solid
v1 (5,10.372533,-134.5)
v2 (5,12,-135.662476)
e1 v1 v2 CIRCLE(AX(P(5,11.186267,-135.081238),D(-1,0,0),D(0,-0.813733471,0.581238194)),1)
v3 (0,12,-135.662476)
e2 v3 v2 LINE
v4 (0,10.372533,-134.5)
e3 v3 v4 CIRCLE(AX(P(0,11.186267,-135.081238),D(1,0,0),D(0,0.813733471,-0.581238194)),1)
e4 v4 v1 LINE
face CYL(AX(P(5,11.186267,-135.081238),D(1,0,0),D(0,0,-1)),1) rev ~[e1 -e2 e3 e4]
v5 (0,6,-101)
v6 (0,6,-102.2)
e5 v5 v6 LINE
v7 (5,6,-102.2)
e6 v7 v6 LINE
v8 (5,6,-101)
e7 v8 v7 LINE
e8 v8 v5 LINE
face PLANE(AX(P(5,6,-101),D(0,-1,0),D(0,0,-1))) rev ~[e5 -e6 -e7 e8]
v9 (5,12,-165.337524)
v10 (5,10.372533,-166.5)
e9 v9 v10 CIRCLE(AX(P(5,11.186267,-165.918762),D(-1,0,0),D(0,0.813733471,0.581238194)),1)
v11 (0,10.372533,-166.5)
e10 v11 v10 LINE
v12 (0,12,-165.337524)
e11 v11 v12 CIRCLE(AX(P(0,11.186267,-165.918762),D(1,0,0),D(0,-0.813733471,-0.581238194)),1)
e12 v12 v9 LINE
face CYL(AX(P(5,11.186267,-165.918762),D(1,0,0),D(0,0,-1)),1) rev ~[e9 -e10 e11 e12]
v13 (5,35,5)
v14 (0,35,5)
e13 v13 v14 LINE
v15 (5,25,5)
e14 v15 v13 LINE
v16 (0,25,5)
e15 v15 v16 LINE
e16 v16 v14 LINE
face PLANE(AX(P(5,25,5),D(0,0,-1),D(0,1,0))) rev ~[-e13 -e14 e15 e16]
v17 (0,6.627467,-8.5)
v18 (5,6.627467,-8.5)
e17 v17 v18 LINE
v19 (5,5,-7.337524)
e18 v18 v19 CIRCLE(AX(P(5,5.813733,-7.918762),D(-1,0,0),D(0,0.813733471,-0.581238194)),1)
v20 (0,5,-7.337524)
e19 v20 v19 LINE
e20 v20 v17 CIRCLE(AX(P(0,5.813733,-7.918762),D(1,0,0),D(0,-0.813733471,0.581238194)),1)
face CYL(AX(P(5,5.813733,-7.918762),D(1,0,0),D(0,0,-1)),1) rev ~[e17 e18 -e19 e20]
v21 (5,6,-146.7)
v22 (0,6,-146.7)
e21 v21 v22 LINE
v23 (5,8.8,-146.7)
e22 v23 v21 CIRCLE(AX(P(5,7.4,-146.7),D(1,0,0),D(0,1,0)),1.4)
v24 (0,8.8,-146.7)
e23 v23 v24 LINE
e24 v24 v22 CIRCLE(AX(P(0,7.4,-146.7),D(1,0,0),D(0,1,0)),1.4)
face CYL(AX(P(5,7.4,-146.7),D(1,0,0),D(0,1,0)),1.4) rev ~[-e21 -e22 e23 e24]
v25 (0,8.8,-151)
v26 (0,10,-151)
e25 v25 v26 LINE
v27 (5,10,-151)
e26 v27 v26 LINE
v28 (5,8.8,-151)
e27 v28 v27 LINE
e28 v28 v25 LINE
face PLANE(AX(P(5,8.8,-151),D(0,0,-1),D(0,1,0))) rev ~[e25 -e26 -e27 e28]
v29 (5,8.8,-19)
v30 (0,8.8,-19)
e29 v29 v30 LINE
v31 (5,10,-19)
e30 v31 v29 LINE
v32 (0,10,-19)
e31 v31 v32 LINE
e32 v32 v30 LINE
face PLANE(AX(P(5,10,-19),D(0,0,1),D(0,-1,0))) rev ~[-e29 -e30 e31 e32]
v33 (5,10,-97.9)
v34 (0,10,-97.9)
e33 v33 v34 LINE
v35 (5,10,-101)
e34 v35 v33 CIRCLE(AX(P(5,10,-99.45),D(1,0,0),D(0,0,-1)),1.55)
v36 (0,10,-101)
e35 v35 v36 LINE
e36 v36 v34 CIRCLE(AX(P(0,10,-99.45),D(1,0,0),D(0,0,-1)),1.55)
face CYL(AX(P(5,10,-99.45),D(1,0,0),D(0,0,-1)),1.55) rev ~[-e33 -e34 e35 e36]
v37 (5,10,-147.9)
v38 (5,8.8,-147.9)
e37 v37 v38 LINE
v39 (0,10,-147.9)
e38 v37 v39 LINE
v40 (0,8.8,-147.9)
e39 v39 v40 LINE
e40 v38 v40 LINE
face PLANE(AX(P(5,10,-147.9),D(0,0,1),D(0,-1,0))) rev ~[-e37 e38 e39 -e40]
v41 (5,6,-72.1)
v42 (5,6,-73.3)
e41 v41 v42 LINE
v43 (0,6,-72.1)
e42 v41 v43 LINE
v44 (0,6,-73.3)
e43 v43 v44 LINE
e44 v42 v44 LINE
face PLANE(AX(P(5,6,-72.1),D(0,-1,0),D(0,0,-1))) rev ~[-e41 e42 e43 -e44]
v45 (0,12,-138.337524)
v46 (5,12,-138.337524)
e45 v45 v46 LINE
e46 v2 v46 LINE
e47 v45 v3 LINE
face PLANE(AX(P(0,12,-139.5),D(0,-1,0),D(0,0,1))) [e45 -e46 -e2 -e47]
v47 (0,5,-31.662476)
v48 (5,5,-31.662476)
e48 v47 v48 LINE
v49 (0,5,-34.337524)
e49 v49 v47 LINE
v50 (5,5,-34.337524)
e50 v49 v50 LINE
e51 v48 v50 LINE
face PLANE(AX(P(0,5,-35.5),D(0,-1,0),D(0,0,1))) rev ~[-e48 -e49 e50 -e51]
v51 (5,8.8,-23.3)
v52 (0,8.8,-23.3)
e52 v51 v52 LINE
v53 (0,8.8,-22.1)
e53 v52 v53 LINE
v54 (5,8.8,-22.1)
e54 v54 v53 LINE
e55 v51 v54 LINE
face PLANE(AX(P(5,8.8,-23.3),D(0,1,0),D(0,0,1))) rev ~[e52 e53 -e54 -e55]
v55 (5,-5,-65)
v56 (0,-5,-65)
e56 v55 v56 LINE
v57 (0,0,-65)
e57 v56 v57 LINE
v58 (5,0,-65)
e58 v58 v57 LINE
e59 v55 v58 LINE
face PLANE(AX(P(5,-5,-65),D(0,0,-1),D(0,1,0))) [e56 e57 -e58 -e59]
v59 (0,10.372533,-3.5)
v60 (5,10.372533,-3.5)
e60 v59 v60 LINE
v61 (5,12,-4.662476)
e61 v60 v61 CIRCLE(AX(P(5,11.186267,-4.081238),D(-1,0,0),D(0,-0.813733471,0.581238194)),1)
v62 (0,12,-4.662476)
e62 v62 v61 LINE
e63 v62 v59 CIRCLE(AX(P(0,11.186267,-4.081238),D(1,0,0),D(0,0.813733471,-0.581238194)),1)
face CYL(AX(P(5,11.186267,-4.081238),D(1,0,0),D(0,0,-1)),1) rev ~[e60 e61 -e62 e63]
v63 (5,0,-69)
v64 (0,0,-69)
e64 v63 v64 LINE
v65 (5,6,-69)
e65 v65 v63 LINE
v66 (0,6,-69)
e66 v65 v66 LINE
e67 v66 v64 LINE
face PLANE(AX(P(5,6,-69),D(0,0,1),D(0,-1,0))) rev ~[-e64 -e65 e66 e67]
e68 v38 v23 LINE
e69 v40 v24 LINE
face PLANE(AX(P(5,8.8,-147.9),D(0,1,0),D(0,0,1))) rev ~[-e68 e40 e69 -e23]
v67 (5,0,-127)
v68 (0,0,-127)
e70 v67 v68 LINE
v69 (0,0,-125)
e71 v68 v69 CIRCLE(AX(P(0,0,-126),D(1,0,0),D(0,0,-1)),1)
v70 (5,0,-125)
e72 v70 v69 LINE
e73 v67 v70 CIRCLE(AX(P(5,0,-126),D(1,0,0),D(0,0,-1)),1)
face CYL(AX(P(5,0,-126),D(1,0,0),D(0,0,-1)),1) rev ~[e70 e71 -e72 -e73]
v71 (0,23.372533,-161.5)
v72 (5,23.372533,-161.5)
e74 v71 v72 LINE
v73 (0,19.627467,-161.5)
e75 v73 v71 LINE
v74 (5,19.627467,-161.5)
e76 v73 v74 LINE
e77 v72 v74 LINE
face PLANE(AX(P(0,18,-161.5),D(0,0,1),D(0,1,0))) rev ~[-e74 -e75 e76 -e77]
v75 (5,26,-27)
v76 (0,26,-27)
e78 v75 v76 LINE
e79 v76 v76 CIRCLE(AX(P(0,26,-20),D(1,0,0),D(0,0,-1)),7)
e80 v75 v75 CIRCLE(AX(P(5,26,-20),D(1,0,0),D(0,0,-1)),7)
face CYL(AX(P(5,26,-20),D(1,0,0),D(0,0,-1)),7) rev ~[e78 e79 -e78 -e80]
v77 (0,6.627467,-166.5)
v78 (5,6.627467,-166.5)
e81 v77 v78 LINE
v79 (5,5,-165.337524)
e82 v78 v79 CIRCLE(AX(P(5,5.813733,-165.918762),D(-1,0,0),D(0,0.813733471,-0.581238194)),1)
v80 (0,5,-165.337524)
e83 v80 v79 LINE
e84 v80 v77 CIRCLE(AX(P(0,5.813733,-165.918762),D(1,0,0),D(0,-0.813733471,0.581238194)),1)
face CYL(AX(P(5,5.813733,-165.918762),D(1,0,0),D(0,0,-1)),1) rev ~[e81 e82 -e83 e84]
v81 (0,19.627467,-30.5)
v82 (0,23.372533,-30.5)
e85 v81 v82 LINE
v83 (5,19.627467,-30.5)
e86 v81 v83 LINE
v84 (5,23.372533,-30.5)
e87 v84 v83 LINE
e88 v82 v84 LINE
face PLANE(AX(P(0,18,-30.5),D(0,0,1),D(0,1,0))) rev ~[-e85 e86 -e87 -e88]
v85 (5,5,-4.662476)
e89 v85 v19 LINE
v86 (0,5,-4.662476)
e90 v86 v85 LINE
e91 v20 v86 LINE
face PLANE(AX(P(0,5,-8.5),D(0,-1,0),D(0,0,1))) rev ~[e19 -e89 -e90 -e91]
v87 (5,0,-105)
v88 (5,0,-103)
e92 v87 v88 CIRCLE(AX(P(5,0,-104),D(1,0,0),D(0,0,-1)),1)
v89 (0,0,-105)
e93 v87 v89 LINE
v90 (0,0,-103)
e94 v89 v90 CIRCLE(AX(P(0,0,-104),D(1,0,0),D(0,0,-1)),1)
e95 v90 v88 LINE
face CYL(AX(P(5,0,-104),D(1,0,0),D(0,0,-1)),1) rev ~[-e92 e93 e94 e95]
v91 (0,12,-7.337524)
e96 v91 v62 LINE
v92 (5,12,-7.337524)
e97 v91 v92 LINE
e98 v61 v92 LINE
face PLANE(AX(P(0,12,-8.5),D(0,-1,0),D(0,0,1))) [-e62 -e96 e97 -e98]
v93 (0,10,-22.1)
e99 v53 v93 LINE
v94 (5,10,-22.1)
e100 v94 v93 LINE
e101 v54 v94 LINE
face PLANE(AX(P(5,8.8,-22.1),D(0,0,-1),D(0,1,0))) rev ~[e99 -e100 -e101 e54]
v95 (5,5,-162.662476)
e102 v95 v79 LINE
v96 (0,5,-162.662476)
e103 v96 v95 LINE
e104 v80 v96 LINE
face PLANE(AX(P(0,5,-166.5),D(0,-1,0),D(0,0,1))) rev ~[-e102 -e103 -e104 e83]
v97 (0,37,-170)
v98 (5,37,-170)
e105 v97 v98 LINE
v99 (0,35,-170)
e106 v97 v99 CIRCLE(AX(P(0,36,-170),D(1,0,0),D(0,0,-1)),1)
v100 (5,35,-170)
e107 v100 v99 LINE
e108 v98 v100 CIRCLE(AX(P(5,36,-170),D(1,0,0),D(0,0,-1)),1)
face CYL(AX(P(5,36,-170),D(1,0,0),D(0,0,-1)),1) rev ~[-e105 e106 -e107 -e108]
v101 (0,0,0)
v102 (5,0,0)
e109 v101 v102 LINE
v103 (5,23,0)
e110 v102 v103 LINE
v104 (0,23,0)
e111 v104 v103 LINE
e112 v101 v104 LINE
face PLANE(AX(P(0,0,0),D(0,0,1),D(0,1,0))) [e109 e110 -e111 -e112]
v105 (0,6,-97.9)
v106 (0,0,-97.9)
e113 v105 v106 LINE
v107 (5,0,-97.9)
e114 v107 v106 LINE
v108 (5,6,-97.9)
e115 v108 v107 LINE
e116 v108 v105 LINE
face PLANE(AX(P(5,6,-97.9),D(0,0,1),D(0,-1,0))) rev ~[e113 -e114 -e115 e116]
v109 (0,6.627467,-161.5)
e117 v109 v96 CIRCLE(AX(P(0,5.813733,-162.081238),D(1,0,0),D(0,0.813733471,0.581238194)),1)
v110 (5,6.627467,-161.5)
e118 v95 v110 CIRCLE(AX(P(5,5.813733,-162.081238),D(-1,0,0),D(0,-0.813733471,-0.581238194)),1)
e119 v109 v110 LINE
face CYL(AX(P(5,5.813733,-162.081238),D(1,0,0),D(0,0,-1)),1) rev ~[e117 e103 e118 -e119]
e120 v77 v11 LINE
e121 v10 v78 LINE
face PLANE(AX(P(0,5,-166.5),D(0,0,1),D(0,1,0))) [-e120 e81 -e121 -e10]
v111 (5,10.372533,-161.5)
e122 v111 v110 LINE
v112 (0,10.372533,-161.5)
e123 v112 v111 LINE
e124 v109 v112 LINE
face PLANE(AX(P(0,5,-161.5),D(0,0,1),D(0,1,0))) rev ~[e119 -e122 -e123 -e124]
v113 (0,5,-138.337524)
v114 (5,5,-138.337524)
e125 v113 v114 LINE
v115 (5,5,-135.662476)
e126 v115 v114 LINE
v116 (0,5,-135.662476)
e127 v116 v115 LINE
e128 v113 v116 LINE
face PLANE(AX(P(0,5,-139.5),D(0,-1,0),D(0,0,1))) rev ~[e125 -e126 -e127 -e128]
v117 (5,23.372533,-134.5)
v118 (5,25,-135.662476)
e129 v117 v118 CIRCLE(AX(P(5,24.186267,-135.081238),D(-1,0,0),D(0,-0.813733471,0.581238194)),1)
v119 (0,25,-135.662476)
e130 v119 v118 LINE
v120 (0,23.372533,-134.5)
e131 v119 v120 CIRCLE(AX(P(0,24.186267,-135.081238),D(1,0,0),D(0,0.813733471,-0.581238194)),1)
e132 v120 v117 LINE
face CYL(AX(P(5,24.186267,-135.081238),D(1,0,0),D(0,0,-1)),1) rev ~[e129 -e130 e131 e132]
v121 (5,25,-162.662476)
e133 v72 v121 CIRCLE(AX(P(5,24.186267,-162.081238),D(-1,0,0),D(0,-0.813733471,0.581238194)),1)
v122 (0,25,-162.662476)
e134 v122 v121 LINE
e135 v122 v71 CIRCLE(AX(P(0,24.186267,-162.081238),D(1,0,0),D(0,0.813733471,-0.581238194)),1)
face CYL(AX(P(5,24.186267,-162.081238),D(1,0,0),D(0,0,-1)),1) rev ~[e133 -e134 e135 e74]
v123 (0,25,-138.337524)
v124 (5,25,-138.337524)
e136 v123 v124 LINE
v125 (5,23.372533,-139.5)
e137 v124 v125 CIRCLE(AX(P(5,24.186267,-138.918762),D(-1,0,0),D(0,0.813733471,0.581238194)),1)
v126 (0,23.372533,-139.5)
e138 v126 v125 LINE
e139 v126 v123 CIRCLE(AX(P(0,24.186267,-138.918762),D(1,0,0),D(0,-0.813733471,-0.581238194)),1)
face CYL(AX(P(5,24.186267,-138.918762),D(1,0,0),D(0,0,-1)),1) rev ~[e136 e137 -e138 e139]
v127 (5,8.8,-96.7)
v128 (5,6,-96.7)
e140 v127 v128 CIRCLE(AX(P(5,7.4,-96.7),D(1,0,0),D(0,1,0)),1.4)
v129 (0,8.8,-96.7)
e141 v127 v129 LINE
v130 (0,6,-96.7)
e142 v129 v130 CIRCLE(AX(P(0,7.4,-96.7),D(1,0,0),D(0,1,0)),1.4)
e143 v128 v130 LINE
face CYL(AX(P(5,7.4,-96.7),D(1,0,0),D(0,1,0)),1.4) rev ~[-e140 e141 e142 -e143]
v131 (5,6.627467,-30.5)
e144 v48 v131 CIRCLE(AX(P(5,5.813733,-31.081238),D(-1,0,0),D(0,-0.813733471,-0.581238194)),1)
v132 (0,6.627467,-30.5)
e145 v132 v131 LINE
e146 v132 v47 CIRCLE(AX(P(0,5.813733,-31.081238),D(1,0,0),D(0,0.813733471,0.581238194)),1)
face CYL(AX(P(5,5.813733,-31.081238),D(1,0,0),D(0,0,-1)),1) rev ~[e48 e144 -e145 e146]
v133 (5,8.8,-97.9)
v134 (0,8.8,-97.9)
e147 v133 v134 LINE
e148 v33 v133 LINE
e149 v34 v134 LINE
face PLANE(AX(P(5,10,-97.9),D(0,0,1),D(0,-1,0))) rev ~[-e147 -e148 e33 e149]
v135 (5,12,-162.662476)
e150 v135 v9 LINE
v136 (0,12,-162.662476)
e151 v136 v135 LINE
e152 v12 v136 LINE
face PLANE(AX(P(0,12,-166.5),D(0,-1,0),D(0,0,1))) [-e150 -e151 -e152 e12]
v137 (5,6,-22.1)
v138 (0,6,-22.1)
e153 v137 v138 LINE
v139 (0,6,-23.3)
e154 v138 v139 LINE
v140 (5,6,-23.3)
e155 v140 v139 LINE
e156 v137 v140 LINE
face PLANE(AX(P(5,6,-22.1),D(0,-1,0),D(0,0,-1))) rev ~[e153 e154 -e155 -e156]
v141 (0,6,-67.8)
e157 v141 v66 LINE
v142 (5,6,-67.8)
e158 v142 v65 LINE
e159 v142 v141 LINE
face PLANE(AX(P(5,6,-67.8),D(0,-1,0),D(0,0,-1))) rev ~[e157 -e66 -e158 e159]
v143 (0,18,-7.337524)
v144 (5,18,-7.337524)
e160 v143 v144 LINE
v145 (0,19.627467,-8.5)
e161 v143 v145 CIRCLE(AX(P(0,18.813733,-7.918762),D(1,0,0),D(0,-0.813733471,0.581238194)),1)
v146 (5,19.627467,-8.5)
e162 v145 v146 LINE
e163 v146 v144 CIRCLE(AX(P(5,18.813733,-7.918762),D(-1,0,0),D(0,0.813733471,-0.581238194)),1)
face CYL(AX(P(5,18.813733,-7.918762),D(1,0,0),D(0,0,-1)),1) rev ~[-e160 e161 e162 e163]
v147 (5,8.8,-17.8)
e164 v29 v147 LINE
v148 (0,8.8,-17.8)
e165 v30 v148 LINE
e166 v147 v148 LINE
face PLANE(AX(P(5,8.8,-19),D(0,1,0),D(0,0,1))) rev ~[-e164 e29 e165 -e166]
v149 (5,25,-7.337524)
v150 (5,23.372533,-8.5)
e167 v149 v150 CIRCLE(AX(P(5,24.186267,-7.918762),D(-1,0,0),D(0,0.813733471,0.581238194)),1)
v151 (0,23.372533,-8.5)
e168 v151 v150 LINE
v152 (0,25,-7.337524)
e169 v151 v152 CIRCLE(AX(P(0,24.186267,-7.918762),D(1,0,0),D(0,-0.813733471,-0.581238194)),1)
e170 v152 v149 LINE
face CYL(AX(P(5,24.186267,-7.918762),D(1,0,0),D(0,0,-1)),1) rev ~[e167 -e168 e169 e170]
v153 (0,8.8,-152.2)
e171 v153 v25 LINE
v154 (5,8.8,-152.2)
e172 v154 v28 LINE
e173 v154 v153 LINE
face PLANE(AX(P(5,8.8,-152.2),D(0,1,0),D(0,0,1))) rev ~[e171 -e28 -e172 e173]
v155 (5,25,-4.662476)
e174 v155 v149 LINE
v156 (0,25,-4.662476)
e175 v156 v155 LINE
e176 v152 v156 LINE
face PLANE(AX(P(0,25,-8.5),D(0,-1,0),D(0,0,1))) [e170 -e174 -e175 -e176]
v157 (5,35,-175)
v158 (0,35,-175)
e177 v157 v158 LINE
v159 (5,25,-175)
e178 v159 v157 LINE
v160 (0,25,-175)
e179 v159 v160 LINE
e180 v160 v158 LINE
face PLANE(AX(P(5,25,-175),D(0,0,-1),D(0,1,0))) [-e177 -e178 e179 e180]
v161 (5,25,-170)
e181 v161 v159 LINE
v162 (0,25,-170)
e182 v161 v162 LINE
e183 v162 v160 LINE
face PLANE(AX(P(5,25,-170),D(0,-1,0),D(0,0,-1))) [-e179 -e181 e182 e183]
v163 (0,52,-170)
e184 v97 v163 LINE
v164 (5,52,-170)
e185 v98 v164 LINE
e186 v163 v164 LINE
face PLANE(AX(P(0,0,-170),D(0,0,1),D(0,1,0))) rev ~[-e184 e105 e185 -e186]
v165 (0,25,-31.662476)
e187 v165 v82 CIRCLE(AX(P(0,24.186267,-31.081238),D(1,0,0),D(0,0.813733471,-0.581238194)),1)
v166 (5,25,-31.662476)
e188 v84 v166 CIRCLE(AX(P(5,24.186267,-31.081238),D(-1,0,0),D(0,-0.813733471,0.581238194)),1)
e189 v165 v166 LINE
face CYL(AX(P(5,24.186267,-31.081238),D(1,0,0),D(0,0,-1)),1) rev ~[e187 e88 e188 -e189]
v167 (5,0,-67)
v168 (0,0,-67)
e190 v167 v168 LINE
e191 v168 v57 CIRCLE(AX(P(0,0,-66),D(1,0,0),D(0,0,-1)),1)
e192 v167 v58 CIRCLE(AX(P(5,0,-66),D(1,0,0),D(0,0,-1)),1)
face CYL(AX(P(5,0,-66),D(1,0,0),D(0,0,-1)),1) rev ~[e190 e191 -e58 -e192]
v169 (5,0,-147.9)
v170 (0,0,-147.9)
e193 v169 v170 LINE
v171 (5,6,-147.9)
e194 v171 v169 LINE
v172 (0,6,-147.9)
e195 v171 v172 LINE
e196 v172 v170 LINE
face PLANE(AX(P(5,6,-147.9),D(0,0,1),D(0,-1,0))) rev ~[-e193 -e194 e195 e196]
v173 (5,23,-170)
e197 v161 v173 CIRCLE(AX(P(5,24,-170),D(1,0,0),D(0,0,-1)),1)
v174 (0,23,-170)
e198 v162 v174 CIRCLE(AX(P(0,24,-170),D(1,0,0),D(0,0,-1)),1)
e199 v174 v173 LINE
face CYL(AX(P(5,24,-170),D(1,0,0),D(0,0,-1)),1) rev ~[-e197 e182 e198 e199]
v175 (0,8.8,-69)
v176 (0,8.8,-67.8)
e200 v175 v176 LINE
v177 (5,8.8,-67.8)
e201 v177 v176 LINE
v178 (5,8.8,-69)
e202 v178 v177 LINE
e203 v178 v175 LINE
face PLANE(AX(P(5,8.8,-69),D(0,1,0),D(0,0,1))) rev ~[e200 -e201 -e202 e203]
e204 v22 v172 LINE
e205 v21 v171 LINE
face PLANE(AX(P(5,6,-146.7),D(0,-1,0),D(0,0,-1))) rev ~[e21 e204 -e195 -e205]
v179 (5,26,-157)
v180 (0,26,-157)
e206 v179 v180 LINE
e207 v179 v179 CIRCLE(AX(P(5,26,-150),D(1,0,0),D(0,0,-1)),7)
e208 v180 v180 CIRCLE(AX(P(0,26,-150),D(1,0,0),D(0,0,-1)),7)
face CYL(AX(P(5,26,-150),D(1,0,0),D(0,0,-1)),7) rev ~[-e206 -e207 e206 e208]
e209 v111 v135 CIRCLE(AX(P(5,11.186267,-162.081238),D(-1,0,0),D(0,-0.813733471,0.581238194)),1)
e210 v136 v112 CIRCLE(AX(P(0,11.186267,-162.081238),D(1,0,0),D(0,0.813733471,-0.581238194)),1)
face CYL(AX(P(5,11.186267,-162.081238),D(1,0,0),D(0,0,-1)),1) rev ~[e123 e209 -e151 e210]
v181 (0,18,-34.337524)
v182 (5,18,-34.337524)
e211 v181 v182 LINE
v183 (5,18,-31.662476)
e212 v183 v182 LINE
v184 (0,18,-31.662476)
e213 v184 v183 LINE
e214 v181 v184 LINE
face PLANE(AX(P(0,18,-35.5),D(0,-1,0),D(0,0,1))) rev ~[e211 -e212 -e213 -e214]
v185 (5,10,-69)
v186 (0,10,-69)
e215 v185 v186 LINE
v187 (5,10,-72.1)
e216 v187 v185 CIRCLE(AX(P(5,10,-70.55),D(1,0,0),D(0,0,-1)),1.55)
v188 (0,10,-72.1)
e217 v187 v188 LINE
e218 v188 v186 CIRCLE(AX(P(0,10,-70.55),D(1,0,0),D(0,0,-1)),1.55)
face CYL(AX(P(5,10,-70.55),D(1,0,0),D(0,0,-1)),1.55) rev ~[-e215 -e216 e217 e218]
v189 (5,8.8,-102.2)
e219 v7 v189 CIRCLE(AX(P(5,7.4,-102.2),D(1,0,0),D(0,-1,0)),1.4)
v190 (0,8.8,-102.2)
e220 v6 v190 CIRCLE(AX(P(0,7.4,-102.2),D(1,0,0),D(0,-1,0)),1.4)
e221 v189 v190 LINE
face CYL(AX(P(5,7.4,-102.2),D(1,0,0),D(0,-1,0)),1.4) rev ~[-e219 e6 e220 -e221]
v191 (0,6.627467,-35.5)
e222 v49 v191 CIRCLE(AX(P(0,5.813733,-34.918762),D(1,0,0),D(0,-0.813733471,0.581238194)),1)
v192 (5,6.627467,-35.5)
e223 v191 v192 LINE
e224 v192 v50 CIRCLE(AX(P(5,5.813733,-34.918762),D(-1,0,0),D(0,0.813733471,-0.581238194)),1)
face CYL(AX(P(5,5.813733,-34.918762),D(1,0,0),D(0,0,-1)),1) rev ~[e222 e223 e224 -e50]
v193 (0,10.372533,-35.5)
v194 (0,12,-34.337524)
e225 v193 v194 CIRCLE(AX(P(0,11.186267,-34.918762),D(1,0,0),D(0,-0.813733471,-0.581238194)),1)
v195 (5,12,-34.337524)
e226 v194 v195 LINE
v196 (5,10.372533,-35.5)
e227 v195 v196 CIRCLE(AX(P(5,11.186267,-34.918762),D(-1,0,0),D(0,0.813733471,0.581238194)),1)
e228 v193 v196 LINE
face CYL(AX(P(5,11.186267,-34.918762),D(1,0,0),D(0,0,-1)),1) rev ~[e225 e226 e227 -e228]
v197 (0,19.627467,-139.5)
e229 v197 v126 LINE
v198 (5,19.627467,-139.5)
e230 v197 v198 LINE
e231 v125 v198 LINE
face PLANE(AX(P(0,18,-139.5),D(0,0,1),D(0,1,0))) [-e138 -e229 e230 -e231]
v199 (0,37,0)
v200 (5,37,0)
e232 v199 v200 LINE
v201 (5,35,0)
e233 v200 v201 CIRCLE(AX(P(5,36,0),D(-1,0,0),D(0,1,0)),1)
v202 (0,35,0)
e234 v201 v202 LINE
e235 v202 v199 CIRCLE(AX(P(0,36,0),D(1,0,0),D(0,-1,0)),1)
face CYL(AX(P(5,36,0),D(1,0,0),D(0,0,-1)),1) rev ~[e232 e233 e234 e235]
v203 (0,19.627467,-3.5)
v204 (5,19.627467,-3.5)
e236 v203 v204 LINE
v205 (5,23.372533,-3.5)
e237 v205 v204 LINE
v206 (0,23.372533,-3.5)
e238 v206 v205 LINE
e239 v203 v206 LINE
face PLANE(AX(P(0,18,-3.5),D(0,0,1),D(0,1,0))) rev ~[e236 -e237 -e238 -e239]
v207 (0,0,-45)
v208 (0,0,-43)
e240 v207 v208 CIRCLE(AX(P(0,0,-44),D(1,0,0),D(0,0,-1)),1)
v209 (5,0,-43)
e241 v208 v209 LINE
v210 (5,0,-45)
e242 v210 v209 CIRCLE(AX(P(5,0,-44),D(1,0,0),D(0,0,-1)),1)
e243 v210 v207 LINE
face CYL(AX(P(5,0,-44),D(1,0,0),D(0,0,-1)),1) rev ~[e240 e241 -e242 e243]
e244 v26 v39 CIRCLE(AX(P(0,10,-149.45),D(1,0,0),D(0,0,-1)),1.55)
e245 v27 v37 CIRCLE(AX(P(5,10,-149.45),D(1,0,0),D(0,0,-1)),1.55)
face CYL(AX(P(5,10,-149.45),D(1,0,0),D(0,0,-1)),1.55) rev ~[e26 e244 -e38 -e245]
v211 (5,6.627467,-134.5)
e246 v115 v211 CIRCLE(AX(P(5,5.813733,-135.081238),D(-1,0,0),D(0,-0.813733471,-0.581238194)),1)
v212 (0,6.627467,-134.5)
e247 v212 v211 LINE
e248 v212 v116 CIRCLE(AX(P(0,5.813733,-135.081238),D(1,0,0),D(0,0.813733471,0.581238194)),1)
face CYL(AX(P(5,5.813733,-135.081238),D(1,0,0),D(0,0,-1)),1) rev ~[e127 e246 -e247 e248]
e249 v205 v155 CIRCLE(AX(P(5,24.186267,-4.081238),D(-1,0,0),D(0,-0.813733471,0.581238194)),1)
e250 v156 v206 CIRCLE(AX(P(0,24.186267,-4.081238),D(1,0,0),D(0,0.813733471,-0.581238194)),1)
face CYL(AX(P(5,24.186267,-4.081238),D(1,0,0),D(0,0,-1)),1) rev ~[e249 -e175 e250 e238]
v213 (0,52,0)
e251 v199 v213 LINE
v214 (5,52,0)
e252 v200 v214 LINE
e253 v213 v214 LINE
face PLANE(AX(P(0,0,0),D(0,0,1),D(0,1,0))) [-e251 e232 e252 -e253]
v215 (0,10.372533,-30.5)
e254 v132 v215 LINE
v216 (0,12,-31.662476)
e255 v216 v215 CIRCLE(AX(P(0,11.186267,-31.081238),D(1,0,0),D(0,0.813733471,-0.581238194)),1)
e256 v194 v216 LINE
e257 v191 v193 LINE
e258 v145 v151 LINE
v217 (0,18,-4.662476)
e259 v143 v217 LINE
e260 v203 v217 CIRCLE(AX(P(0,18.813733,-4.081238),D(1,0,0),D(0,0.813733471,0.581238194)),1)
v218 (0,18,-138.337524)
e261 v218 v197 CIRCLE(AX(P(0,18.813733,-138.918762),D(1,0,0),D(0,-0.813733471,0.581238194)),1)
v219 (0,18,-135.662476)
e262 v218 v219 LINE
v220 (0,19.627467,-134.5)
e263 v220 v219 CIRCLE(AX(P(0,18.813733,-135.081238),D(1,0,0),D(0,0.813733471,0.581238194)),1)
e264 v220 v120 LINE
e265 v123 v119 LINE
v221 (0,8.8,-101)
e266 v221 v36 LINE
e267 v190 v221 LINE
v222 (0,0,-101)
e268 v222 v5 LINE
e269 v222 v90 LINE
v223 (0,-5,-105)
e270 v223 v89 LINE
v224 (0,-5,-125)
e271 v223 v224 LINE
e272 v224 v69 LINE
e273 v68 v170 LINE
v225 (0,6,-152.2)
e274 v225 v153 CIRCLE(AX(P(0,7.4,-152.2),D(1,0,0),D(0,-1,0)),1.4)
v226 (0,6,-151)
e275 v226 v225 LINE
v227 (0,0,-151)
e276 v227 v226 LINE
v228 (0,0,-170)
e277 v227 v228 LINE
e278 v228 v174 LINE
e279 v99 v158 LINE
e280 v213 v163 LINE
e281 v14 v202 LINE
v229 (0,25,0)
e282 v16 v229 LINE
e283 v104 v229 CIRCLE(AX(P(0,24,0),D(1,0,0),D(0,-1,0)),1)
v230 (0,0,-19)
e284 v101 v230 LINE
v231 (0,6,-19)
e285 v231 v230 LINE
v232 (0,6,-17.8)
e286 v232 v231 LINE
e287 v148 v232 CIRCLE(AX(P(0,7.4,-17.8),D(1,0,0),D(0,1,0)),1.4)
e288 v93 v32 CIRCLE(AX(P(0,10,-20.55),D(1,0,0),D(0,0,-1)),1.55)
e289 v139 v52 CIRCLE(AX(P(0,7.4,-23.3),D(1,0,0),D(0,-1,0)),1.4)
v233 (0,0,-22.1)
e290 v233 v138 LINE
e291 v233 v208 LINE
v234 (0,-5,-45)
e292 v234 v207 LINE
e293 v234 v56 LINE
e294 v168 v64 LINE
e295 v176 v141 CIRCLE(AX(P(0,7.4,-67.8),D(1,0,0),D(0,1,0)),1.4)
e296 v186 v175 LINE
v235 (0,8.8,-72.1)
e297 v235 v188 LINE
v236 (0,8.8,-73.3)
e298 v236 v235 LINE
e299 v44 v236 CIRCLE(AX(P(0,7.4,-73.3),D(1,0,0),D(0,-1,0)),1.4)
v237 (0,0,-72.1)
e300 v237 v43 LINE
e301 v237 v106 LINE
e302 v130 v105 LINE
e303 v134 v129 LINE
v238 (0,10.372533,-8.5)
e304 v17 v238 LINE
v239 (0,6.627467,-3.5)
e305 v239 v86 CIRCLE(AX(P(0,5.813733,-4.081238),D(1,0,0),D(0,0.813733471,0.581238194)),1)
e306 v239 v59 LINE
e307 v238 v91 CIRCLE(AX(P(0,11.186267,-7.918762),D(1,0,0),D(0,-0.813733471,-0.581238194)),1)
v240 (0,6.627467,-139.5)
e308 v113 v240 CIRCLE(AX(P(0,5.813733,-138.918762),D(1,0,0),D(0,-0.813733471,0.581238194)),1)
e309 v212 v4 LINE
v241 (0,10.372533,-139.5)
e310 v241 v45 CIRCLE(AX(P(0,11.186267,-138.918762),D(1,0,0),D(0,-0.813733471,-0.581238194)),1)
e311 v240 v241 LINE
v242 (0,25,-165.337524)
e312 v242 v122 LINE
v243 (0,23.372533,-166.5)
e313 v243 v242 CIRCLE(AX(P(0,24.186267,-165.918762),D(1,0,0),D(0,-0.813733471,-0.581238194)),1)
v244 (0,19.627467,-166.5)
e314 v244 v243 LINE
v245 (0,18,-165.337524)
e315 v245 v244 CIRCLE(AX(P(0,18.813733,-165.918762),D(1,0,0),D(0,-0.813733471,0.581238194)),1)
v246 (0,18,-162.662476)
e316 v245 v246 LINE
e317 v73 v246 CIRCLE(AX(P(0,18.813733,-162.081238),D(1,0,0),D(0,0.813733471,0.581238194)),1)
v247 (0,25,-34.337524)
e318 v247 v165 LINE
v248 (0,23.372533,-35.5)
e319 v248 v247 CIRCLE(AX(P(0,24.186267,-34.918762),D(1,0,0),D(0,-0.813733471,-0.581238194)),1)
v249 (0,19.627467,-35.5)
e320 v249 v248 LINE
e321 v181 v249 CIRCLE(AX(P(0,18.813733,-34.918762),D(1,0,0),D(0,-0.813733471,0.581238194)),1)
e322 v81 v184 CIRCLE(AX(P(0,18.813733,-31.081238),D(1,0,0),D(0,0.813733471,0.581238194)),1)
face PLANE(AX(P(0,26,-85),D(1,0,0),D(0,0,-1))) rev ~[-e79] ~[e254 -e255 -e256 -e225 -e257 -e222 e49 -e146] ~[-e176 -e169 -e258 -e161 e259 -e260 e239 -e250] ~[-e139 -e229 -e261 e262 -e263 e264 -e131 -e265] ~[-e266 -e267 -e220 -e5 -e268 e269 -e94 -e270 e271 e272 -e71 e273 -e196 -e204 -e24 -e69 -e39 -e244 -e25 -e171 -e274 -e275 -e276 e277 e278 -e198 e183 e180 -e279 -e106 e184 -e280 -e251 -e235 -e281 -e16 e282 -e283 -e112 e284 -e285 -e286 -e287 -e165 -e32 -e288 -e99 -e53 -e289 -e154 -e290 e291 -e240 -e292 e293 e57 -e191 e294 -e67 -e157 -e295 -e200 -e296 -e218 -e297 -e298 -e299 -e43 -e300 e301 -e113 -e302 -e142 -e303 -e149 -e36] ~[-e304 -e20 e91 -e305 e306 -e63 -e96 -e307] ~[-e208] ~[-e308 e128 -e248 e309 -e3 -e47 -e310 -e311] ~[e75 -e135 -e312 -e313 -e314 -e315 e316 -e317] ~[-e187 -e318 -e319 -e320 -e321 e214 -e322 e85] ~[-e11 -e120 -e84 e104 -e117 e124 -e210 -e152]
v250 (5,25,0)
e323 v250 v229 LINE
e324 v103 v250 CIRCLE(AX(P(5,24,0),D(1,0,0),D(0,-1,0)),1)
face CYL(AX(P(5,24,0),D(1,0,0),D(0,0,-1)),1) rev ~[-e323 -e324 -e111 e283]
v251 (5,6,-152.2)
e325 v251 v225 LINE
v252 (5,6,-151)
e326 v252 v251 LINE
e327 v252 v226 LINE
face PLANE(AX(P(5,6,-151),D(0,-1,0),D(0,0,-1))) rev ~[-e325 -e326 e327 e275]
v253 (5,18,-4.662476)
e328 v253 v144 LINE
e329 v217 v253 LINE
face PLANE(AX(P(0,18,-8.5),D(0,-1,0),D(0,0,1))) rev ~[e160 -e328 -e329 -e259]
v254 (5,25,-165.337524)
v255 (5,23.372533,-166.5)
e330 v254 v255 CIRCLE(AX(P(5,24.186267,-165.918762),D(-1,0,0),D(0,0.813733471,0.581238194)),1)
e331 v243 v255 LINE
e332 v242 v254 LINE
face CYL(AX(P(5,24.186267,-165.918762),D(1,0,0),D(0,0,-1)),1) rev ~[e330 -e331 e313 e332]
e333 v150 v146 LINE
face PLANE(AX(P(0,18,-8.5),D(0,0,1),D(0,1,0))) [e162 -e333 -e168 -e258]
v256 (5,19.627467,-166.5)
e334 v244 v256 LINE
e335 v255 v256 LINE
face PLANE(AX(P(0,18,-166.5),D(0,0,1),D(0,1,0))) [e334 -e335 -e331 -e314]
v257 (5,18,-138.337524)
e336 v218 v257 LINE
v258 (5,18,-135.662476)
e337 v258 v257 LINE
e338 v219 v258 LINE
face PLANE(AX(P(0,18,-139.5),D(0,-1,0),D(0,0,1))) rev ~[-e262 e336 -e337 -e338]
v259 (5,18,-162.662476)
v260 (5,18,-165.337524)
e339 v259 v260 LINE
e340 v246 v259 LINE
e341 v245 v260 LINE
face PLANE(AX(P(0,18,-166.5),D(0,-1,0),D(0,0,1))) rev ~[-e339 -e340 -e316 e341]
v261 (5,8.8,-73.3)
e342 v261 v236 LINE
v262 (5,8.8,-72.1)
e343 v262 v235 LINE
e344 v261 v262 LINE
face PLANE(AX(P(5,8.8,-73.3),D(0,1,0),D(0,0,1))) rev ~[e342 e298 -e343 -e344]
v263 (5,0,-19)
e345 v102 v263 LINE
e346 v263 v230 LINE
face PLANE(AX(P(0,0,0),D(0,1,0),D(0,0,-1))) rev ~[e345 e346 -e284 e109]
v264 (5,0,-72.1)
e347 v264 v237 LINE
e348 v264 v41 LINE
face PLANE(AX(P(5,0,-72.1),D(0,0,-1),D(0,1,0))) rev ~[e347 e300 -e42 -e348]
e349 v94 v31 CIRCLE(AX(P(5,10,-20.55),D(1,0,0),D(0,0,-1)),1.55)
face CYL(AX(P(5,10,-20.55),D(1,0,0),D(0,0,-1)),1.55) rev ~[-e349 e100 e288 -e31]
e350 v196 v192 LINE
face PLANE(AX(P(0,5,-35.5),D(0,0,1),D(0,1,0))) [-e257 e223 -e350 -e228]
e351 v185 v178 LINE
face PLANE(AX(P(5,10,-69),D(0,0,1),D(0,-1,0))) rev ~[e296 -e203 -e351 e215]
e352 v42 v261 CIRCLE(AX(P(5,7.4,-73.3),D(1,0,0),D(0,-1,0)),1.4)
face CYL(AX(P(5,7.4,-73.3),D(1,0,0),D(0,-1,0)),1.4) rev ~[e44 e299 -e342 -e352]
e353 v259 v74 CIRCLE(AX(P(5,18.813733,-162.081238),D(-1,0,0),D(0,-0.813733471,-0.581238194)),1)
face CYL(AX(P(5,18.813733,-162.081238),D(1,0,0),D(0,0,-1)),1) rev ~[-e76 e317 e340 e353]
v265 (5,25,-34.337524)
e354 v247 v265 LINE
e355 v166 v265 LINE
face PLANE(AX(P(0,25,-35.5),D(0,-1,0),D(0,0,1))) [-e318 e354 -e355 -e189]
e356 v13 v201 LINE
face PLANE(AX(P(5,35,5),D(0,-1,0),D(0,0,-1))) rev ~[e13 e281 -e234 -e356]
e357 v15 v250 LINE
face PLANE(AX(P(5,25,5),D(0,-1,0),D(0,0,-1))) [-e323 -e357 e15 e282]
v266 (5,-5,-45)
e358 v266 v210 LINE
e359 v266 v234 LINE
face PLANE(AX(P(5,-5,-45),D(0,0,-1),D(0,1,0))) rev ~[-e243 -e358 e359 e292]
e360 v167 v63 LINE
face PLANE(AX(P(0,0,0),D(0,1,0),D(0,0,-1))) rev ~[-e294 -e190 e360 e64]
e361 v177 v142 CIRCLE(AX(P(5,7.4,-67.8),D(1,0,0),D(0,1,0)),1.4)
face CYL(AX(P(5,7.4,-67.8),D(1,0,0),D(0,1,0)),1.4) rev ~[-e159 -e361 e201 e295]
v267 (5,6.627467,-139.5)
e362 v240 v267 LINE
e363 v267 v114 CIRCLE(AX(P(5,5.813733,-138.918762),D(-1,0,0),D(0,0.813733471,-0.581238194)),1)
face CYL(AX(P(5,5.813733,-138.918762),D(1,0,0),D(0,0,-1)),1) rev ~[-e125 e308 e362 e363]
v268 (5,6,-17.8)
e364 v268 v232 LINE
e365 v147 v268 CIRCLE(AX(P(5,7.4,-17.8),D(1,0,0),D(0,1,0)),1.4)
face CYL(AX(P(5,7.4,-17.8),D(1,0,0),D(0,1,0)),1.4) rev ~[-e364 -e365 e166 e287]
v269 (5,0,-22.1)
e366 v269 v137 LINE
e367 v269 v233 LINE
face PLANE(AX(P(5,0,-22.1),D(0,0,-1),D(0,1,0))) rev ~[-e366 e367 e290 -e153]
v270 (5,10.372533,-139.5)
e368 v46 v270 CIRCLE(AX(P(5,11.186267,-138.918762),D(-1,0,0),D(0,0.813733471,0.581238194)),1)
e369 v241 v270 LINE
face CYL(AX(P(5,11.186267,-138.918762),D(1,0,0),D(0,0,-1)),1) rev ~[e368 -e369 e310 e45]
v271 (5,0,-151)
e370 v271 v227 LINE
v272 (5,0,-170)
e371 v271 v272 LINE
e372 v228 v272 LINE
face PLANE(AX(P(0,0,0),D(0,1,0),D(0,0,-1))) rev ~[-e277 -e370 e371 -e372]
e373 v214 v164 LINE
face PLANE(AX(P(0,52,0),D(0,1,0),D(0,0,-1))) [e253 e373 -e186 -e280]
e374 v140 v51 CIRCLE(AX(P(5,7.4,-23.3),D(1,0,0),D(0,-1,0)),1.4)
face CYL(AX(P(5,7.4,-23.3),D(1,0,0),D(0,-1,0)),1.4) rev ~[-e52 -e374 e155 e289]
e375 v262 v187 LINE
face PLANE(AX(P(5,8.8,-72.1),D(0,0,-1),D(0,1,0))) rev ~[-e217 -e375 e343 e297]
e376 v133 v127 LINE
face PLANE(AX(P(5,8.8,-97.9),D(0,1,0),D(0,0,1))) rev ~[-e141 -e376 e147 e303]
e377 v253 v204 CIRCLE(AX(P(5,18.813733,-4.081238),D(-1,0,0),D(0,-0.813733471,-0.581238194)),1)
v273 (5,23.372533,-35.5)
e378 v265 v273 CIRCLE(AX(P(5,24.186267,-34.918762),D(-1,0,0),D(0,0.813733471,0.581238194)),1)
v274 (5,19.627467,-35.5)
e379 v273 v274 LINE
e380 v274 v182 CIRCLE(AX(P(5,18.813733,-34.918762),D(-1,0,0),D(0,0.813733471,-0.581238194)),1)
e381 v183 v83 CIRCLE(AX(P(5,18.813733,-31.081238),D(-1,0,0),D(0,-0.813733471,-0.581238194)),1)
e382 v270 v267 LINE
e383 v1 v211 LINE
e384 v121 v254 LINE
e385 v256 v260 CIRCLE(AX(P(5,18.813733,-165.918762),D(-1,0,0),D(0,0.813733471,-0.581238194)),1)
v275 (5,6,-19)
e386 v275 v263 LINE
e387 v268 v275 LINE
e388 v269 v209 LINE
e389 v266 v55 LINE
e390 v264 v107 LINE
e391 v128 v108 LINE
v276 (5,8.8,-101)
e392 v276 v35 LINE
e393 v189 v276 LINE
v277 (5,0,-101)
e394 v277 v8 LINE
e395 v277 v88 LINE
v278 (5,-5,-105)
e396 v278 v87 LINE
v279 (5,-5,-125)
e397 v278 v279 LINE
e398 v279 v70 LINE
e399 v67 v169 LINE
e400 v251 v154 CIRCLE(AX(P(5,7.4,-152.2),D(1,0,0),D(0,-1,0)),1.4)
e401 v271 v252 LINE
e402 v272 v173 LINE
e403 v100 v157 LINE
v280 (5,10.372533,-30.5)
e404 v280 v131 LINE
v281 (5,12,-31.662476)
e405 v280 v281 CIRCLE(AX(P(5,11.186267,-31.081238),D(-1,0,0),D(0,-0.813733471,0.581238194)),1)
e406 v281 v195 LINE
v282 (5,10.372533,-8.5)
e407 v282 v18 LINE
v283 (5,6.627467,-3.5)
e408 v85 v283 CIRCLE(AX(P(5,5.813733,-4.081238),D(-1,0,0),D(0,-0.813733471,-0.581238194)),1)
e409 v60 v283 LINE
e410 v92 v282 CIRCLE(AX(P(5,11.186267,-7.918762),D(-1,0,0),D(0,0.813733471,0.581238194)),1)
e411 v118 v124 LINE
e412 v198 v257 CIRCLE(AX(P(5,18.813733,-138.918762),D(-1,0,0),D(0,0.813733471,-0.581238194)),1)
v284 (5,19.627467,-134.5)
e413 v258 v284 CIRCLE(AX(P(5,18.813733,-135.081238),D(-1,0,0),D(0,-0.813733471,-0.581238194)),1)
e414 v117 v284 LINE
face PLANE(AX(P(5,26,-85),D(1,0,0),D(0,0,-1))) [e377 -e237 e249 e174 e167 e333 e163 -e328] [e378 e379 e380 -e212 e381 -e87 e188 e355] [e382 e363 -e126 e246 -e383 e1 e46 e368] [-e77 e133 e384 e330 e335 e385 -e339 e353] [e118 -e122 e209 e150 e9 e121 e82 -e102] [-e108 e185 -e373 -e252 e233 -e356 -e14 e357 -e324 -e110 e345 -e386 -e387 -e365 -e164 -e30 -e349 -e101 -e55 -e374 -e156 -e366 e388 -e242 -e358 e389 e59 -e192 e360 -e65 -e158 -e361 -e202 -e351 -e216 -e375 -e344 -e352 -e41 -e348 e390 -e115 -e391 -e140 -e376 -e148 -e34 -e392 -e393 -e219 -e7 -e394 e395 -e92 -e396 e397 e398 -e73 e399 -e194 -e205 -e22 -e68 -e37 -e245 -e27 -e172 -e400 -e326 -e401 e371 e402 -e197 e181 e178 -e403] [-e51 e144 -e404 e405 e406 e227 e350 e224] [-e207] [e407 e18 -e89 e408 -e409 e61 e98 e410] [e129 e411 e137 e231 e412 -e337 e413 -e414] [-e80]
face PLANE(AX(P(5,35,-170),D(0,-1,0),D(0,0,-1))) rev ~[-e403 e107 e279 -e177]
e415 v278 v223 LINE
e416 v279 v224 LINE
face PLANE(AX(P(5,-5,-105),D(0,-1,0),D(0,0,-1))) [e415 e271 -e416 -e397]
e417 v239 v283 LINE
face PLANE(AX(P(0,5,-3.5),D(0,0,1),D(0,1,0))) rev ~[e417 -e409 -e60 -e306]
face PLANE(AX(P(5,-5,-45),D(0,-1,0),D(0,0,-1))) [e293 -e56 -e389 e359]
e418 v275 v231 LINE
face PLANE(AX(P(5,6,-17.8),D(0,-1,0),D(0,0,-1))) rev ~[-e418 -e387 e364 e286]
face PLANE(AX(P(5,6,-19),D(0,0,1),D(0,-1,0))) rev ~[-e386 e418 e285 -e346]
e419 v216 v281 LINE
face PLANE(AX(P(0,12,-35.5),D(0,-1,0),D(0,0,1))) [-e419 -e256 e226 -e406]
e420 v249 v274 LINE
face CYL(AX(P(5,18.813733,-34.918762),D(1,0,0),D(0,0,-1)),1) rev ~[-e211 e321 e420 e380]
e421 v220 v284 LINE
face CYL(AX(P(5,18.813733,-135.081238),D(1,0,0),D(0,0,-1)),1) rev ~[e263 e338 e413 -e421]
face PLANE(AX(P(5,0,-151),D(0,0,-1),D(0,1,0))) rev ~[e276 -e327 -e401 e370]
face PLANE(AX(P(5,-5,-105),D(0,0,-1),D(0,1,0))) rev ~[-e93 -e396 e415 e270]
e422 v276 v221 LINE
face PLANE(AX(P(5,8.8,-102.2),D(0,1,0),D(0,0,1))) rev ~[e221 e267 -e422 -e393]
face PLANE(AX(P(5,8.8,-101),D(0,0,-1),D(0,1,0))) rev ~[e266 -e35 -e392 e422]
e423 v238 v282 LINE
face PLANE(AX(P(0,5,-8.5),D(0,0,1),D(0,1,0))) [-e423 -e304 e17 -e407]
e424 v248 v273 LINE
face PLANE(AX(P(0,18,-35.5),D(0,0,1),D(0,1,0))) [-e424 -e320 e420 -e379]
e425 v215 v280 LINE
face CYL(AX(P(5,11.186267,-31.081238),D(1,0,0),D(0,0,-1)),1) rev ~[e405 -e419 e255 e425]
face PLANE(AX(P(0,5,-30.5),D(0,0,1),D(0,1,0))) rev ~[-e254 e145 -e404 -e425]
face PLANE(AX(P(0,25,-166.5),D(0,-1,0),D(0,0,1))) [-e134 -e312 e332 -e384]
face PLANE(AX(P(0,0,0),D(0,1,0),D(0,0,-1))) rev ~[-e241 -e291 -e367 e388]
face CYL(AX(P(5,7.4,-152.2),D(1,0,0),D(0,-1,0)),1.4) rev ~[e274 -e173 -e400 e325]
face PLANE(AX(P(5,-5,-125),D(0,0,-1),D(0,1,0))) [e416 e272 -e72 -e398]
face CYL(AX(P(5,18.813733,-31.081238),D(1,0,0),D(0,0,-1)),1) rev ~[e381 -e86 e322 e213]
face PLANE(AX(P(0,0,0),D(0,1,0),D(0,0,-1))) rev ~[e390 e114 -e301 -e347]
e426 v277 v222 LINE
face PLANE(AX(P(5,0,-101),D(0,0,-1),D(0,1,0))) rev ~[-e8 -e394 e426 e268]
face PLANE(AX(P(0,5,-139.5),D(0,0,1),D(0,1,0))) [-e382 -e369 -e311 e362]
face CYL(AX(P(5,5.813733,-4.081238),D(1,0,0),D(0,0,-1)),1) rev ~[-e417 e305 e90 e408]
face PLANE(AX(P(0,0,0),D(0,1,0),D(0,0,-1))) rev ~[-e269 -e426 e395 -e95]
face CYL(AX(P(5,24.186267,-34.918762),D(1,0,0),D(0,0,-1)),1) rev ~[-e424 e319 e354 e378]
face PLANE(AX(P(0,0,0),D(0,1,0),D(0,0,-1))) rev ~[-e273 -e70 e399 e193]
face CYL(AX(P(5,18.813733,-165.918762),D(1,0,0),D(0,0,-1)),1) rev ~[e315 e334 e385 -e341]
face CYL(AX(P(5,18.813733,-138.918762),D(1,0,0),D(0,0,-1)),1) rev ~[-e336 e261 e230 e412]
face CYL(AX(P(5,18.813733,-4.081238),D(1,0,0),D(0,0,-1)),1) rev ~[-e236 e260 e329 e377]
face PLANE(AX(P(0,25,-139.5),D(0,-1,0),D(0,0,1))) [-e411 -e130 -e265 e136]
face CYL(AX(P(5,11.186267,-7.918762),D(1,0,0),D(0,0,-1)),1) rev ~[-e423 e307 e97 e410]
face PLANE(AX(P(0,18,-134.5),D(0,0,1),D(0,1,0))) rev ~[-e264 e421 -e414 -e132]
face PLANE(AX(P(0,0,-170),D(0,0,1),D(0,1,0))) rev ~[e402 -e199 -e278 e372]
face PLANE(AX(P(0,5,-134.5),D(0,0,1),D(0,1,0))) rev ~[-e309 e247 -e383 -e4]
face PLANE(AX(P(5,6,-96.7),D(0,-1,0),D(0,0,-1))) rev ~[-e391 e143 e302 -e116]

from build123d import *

# Parameters (mm, degrees)
SKETCH_1_W          = 170
SKETCH_1_H          = 52
EXTRUDE_1_DEPTH     = 5
SKETCH_2_R          = 7
CUT_EXTRUDE_1_DEPTH = 10
SKETCH_3_W          = 20
SKETCH_3_H          = 5
EXTRUDE_2_DEPTH     = 5
CUT_EXTRUDE_2_DEPTH = 10
SKETCH_8_W          = 5
SKETCH_8_H          = 10
EXTRUDE_3_DEPTH     = 5
SKETCH_7_R          = 1
CUT_EXTRUDE_3_DEPTH = 10
SKETCH_10_W         = 5
SKETCH_10_H         = 7
CUT_EXTRUDE_4_DEPTH = 10
SKETCH_11_R         = 1
CUT_EXTRUDE_5_DEPTH = 10


with BuildPart() as part:
    # 스케치1 → 보스-돌출1 (new body)
    with BuildSketch(Plane(origin=(0, 0, 0), x_dir=(0, 0, -1), z_dir=(1, 0, 0))):
        with Locations((85, 26)):
            Rectangle(SKETCH_1_W, SKETCH_1_H)
    extrude(amount=EXTRUDE_1_DEPTH)

    # 스케치2 → 컷-돌출1 (cut)
    with BuildSketch(Plane(origin=(5, 0, 0), x_dir=(0, 0, -1), z_dir=(1, 0, 0))):
        with Locations((150, 26)):
            Circle(SKETCH_2_R)
        with Locations((20, 26)):
            Circle(SKETCH_2_R)
    extrude(amount=-CUT_EXTRUDE_1_DEPTH, mode=Mode.SUBTRACT)

    # 스케치3 → 보스-돌출2 (add)
    with BuildSketch(Plane(origin=(5, 0, 0), x_dir=(0, 0, -1), z_dir=(1, 0, 0))):
        with Locations((55, -2.5)):
            Rectangle(SKETCH_3_W, SKETCH_3_H)
        with Locations((115, -2.5)):
            Rectangle(SKETCH_3_W, SKETCH_3_H)
    extrude(amount=-EXTRUDE_2_DEPTH)

    # 스케치6 → 컷-돌출2 (cut)
    with BuildSketch(Plane(origin=(5, 0, 0), x_dir=(0, 0, -1), z_dir=(1, 0, 0))):
        with BuildLine():
            Line((151, 0), (151, 6))
            Line((151, 6), (152.2, 6))
            ThreePointArc((152.2, 6), (153.6, 7.4), (152.2, 8.8))
            Line((152.2, 8.8), (151, 8.8))
            Line((151, 8.8), (151, 10))
            ThreePointArc((151, 10), (149.45, 11.55), (147.9, 10))
            Line((147.9, 10), (147.9, 8.8))
            Line((147.9, 8.8), (146.7, 8.8))
            ThreePointArc((146.7, 8.8), (145.3, 7.4), (146.7, 6))
            Line((146.7, 6), (147.9, 6))
            Line((147.9, 6), (147.9, 0))
            Line((147.9, 0), (151, 0))
        make_face()
        with BuildLine():
            Line((101, 0), (101, 6))
            Line((101, 6), (102.2, 6))
            ThreePointArc((102.2, 6), (103.6, 7.4), (102.2, 8.8))
            Line((102.2, 8.8), (101, 8.8))
            Line((101, 8.8), (101, 10))
            ThreePointArc((101, 10), (99.45, 11.55), (97.9, 10))
            Line((97.9, 10), (97.9, 8.8))
            Line((97.9, 8.8), (96.7, 8.8))
            ThreePointArc((96.7, 8.8), (95.3, 7.4), (96.7, 6))
            Line((96.7, 6), (97.9, 6))
            Line((97.9, 6), (97.9, 0))
            Line((97.9, 0), (101, 0))
        make_face()
        with BuildLine():
            Line((67.8, 6), (69, 6))
            Line((69, 6), (69, 0))
            Line((69, 0), (72.1, 0))
            Line((72.1, 0), (72.1, 6))
            Line((72.1, 6), (73.3, 6))
            ThreePointArc((73.3, 6), (74.7, 7.4), (73.3, 8.8))
            Line((73.3, 8.8), (72.1, 8.8))
            Line((72.1, 8.8), (72.1, 10))
            ThreePointArc((72.1, 10), (70.55, 11.55), (69, 10))
            Line((69, 10), (69, 8.8))
            Line((69, 8.8), (67.8, 8.8))
            ThreePointArc((67.8, 8.8), (66.4, 7.4), (67.8, 6))
        make_face()
        with BuildLine():
            Line((17.8, 6), (19, 6))
            Line((19, 6), (19, 0))
            Line((19, 0), (22.1, 0))
            Line((22.1, 0), (22.1, 6))
            Line((22.1, 6), (23.3, 6))
            ThreePointArc((23.3, 6), (24.7, 7.4), (23.3, 8.8))
            Line((23.3, 8.8), (22.1, 8.8))
            Line((22.1, 8.8), (22.1, 10))
            ThreePointArc((22.1, 10), (20.55, 11.55), (19, 10))
            Line((19, 10), (19, 8.8))
            Line((19, 8.8), (17.8, 8.8))
            ThreePointArc((17.8, 8.8), (16.4, 7.4), (17.8, 6))
        make_face()
    extrude(amount=-CUT_EXTRUDE_2_DEPTH, mode=Mode.SUBTRACT)

    # 스케치8 → 보스-돌출3 (add)
    with BuildSketch(Plane(origin=(5, 0, 0), x_dir=(0, 0, -1), z_dir=(1, 0, 0))):
        with Locations((172.5, 30)):
            Rectangle(SKETCH_8_W, SKETCH_8_H)
        with Locations((-2.5, 30)):
            Rectangle(SKETCH_8_W, SKETCH_8_H)
    extrude(amount=-EXTRUDE_3_DEPTH)

    # 스케치7 → 컷-돌출3 (cut)
    with BuildSketch(Plane(origin=(5, 0, 0), x_dir=(0, 0, -1), z_dir=(1, 0, 0))):
        with Locations((66, 0)):
            Circle(SKETCH_7_R)
        with Locations((44, 0)):
            Circle(SKETCH_7_R)
        with Locations((104, 0)):
            Circle(SKETCH_7_R)
        with Locations((126, 0)):
            Circle(SKETCH_7_R)
        with Locations((170, 36)):
            Circle(SKETCH_7_R)
        with Locations((170, 24)):
            Circle(SKETCH_7_R)
        with Locations((0, 36)):
            Circle(SKETCH_7_R)
        with Locations((0, 24)):
            Circle(SKETCH_7_R)
    extrude(amount=-CUT_EXTRUDE_3_DEPTH, mode=Mode.SUBTRACT)

    # 스케치10 → 컷-돌출4 (cut)
    with BuildSketch(Plane.ZY):
        with Locations((-164, 21.5)):
            Rectangle(SKETCH_10_W, SKETCH_10_H)
        with Locations((-137, 21.5)):
            Rectangle(SKETCH_10_W, SKETCH_10_H)
        with Locations((-164, 8.5)):
            Rectangle(SKETCH_10_W, SKETCH_10_H)
        with Locations((-137, 8.5)):
            Rectangle(SKETCH_10_W, SKETCH_10_H)
        with Locations((-33, 8.5)):
            Rectangle(SKETCH_10_W, SKETCH_10_H)
        with Locations((-6, 8.5)):
            Rectangle(SKETCH_10_W, SKETCH_10_H)
        with Locations((-33, 21.5)):
            Rectangle(SKETCH_10_W, SKETCH_10_H)
        with Locations((-6, 21.5)):
            Rectangle(SKETCH_10_W, SKETCH_10_H)
    extrude(amount=-CUT_EXTRUDE_4_DEPTH, mode=Mode.SUBTRACT)

    # 스케치11 → 컷-돌출5 (cut)
    with BuildSketch(Plane(origin=(5, 0, 0), x_dir=(0, 0, -1), z_dir=(1, 0, 0))):
        with Locations((165.918761806, 24.186266529)):
            Circle(SKETCH_11_R)
        with Locations((162.081238194, 24.186266529)):
            Circle(SKETCH_11_R)
        with Locations((165.918761806, 18.813733471)):
            Circle(SKETCH_11_R)
        with Locations((162.081238194, 18.813733471)):
            Circle(SKETCH_11_R)
        with Locations((138.918761806, 18.813733471)):
            Circle(SKETCH_11_R)
        with Locations((135.081238194, 18.813733471)):
            Circle(SKETCH_11_R)
        with Locations((138.918761806, 24.186266529)):
            Circle(SKETCH_11_R)
        with Locations((135.081238194, 24.186266529)):
            Circle(SKETCH_11_R)
        with Locations((135.081238194, 5.813733471)):
            Circle(SKETCH_11_R)
        with Locations((138.918761806, 5.813733471)):
            Circle(SKETCH_11_R)
        with Locations((135.081238194, 11.186266529)):
            Circle(SKETCH_11_R)
        with Locations((138.918761806, 11.186266529)):
            Circle(SKETCH_11_R)
        with Locations((162.081238194, 11.186266529)):
            Circle(SKETCH_11_R)
        with Locations((165.918761806, 11.186266529)):
            Circle(SKETCH_11_R)
        with Locations((162.081238194, 5.813733471)):
            Circle(SKETCH_11_R)
        with Locations((165.918761806, 5.813733471)):
            Circle(SKETCH_11_R)
        with Locations((4.081238194, 5.813733471)):
            Circle(SKETCH_11_R)
        with Locations((7.918761806, 5.813733471)):
            Circle(SKETCH_11_R)
        with Locations((4.081238194, 11.186266529)):
            Circle(SKETCH_11_R)
        with Locations((7.918761806, 11.186266529)):
            Circle(SKETCH_11_R)
        with Locations((31.081238194, 11.186266529)):
            Circle(SKETCH_11_R)
        with Locations((34.918761806, 11.186266529)):
            Circle(SKETCH_11_R)
        with Locations((31.081238194, 5.813733471)):
            Circle(SKETCH_11_R)
        with Locations((34.918761806, 5.813733471)):
            Circle(SKETCH_11_R)
        with Locations((34.918761806, 24.186266529)):
            Circle(SKETCH_11_R)
        with Locations((31.081238194, 24.186266529)):
            Circle(SKETCH_11_R)
        with Locations((34.918761806, 18.813733471)):
            Circle(SKETCH_11_R)
        with Locations((31.081238194, 18.813733471)):
            Circle(SKETCH_11_R)
        with Locations((7.918761806, 18.813733471)):
            Circle(SKETCH_11_R)
        with Locations((4.081238194, 18.813733471)):
            Circle(SKETCH_11_R)
        with Locations((7.918761806, 24.186266529)):
            Circle(SKETCH_11_R)
        with Locations((4.081238194, 24.186266529)):
            Circle(SKETCH_11_R)
    extrude(amount=-CUT_EXTRUDE_5_DEPTH, mode=Mode.SUBTRACT)


solid = part.part
